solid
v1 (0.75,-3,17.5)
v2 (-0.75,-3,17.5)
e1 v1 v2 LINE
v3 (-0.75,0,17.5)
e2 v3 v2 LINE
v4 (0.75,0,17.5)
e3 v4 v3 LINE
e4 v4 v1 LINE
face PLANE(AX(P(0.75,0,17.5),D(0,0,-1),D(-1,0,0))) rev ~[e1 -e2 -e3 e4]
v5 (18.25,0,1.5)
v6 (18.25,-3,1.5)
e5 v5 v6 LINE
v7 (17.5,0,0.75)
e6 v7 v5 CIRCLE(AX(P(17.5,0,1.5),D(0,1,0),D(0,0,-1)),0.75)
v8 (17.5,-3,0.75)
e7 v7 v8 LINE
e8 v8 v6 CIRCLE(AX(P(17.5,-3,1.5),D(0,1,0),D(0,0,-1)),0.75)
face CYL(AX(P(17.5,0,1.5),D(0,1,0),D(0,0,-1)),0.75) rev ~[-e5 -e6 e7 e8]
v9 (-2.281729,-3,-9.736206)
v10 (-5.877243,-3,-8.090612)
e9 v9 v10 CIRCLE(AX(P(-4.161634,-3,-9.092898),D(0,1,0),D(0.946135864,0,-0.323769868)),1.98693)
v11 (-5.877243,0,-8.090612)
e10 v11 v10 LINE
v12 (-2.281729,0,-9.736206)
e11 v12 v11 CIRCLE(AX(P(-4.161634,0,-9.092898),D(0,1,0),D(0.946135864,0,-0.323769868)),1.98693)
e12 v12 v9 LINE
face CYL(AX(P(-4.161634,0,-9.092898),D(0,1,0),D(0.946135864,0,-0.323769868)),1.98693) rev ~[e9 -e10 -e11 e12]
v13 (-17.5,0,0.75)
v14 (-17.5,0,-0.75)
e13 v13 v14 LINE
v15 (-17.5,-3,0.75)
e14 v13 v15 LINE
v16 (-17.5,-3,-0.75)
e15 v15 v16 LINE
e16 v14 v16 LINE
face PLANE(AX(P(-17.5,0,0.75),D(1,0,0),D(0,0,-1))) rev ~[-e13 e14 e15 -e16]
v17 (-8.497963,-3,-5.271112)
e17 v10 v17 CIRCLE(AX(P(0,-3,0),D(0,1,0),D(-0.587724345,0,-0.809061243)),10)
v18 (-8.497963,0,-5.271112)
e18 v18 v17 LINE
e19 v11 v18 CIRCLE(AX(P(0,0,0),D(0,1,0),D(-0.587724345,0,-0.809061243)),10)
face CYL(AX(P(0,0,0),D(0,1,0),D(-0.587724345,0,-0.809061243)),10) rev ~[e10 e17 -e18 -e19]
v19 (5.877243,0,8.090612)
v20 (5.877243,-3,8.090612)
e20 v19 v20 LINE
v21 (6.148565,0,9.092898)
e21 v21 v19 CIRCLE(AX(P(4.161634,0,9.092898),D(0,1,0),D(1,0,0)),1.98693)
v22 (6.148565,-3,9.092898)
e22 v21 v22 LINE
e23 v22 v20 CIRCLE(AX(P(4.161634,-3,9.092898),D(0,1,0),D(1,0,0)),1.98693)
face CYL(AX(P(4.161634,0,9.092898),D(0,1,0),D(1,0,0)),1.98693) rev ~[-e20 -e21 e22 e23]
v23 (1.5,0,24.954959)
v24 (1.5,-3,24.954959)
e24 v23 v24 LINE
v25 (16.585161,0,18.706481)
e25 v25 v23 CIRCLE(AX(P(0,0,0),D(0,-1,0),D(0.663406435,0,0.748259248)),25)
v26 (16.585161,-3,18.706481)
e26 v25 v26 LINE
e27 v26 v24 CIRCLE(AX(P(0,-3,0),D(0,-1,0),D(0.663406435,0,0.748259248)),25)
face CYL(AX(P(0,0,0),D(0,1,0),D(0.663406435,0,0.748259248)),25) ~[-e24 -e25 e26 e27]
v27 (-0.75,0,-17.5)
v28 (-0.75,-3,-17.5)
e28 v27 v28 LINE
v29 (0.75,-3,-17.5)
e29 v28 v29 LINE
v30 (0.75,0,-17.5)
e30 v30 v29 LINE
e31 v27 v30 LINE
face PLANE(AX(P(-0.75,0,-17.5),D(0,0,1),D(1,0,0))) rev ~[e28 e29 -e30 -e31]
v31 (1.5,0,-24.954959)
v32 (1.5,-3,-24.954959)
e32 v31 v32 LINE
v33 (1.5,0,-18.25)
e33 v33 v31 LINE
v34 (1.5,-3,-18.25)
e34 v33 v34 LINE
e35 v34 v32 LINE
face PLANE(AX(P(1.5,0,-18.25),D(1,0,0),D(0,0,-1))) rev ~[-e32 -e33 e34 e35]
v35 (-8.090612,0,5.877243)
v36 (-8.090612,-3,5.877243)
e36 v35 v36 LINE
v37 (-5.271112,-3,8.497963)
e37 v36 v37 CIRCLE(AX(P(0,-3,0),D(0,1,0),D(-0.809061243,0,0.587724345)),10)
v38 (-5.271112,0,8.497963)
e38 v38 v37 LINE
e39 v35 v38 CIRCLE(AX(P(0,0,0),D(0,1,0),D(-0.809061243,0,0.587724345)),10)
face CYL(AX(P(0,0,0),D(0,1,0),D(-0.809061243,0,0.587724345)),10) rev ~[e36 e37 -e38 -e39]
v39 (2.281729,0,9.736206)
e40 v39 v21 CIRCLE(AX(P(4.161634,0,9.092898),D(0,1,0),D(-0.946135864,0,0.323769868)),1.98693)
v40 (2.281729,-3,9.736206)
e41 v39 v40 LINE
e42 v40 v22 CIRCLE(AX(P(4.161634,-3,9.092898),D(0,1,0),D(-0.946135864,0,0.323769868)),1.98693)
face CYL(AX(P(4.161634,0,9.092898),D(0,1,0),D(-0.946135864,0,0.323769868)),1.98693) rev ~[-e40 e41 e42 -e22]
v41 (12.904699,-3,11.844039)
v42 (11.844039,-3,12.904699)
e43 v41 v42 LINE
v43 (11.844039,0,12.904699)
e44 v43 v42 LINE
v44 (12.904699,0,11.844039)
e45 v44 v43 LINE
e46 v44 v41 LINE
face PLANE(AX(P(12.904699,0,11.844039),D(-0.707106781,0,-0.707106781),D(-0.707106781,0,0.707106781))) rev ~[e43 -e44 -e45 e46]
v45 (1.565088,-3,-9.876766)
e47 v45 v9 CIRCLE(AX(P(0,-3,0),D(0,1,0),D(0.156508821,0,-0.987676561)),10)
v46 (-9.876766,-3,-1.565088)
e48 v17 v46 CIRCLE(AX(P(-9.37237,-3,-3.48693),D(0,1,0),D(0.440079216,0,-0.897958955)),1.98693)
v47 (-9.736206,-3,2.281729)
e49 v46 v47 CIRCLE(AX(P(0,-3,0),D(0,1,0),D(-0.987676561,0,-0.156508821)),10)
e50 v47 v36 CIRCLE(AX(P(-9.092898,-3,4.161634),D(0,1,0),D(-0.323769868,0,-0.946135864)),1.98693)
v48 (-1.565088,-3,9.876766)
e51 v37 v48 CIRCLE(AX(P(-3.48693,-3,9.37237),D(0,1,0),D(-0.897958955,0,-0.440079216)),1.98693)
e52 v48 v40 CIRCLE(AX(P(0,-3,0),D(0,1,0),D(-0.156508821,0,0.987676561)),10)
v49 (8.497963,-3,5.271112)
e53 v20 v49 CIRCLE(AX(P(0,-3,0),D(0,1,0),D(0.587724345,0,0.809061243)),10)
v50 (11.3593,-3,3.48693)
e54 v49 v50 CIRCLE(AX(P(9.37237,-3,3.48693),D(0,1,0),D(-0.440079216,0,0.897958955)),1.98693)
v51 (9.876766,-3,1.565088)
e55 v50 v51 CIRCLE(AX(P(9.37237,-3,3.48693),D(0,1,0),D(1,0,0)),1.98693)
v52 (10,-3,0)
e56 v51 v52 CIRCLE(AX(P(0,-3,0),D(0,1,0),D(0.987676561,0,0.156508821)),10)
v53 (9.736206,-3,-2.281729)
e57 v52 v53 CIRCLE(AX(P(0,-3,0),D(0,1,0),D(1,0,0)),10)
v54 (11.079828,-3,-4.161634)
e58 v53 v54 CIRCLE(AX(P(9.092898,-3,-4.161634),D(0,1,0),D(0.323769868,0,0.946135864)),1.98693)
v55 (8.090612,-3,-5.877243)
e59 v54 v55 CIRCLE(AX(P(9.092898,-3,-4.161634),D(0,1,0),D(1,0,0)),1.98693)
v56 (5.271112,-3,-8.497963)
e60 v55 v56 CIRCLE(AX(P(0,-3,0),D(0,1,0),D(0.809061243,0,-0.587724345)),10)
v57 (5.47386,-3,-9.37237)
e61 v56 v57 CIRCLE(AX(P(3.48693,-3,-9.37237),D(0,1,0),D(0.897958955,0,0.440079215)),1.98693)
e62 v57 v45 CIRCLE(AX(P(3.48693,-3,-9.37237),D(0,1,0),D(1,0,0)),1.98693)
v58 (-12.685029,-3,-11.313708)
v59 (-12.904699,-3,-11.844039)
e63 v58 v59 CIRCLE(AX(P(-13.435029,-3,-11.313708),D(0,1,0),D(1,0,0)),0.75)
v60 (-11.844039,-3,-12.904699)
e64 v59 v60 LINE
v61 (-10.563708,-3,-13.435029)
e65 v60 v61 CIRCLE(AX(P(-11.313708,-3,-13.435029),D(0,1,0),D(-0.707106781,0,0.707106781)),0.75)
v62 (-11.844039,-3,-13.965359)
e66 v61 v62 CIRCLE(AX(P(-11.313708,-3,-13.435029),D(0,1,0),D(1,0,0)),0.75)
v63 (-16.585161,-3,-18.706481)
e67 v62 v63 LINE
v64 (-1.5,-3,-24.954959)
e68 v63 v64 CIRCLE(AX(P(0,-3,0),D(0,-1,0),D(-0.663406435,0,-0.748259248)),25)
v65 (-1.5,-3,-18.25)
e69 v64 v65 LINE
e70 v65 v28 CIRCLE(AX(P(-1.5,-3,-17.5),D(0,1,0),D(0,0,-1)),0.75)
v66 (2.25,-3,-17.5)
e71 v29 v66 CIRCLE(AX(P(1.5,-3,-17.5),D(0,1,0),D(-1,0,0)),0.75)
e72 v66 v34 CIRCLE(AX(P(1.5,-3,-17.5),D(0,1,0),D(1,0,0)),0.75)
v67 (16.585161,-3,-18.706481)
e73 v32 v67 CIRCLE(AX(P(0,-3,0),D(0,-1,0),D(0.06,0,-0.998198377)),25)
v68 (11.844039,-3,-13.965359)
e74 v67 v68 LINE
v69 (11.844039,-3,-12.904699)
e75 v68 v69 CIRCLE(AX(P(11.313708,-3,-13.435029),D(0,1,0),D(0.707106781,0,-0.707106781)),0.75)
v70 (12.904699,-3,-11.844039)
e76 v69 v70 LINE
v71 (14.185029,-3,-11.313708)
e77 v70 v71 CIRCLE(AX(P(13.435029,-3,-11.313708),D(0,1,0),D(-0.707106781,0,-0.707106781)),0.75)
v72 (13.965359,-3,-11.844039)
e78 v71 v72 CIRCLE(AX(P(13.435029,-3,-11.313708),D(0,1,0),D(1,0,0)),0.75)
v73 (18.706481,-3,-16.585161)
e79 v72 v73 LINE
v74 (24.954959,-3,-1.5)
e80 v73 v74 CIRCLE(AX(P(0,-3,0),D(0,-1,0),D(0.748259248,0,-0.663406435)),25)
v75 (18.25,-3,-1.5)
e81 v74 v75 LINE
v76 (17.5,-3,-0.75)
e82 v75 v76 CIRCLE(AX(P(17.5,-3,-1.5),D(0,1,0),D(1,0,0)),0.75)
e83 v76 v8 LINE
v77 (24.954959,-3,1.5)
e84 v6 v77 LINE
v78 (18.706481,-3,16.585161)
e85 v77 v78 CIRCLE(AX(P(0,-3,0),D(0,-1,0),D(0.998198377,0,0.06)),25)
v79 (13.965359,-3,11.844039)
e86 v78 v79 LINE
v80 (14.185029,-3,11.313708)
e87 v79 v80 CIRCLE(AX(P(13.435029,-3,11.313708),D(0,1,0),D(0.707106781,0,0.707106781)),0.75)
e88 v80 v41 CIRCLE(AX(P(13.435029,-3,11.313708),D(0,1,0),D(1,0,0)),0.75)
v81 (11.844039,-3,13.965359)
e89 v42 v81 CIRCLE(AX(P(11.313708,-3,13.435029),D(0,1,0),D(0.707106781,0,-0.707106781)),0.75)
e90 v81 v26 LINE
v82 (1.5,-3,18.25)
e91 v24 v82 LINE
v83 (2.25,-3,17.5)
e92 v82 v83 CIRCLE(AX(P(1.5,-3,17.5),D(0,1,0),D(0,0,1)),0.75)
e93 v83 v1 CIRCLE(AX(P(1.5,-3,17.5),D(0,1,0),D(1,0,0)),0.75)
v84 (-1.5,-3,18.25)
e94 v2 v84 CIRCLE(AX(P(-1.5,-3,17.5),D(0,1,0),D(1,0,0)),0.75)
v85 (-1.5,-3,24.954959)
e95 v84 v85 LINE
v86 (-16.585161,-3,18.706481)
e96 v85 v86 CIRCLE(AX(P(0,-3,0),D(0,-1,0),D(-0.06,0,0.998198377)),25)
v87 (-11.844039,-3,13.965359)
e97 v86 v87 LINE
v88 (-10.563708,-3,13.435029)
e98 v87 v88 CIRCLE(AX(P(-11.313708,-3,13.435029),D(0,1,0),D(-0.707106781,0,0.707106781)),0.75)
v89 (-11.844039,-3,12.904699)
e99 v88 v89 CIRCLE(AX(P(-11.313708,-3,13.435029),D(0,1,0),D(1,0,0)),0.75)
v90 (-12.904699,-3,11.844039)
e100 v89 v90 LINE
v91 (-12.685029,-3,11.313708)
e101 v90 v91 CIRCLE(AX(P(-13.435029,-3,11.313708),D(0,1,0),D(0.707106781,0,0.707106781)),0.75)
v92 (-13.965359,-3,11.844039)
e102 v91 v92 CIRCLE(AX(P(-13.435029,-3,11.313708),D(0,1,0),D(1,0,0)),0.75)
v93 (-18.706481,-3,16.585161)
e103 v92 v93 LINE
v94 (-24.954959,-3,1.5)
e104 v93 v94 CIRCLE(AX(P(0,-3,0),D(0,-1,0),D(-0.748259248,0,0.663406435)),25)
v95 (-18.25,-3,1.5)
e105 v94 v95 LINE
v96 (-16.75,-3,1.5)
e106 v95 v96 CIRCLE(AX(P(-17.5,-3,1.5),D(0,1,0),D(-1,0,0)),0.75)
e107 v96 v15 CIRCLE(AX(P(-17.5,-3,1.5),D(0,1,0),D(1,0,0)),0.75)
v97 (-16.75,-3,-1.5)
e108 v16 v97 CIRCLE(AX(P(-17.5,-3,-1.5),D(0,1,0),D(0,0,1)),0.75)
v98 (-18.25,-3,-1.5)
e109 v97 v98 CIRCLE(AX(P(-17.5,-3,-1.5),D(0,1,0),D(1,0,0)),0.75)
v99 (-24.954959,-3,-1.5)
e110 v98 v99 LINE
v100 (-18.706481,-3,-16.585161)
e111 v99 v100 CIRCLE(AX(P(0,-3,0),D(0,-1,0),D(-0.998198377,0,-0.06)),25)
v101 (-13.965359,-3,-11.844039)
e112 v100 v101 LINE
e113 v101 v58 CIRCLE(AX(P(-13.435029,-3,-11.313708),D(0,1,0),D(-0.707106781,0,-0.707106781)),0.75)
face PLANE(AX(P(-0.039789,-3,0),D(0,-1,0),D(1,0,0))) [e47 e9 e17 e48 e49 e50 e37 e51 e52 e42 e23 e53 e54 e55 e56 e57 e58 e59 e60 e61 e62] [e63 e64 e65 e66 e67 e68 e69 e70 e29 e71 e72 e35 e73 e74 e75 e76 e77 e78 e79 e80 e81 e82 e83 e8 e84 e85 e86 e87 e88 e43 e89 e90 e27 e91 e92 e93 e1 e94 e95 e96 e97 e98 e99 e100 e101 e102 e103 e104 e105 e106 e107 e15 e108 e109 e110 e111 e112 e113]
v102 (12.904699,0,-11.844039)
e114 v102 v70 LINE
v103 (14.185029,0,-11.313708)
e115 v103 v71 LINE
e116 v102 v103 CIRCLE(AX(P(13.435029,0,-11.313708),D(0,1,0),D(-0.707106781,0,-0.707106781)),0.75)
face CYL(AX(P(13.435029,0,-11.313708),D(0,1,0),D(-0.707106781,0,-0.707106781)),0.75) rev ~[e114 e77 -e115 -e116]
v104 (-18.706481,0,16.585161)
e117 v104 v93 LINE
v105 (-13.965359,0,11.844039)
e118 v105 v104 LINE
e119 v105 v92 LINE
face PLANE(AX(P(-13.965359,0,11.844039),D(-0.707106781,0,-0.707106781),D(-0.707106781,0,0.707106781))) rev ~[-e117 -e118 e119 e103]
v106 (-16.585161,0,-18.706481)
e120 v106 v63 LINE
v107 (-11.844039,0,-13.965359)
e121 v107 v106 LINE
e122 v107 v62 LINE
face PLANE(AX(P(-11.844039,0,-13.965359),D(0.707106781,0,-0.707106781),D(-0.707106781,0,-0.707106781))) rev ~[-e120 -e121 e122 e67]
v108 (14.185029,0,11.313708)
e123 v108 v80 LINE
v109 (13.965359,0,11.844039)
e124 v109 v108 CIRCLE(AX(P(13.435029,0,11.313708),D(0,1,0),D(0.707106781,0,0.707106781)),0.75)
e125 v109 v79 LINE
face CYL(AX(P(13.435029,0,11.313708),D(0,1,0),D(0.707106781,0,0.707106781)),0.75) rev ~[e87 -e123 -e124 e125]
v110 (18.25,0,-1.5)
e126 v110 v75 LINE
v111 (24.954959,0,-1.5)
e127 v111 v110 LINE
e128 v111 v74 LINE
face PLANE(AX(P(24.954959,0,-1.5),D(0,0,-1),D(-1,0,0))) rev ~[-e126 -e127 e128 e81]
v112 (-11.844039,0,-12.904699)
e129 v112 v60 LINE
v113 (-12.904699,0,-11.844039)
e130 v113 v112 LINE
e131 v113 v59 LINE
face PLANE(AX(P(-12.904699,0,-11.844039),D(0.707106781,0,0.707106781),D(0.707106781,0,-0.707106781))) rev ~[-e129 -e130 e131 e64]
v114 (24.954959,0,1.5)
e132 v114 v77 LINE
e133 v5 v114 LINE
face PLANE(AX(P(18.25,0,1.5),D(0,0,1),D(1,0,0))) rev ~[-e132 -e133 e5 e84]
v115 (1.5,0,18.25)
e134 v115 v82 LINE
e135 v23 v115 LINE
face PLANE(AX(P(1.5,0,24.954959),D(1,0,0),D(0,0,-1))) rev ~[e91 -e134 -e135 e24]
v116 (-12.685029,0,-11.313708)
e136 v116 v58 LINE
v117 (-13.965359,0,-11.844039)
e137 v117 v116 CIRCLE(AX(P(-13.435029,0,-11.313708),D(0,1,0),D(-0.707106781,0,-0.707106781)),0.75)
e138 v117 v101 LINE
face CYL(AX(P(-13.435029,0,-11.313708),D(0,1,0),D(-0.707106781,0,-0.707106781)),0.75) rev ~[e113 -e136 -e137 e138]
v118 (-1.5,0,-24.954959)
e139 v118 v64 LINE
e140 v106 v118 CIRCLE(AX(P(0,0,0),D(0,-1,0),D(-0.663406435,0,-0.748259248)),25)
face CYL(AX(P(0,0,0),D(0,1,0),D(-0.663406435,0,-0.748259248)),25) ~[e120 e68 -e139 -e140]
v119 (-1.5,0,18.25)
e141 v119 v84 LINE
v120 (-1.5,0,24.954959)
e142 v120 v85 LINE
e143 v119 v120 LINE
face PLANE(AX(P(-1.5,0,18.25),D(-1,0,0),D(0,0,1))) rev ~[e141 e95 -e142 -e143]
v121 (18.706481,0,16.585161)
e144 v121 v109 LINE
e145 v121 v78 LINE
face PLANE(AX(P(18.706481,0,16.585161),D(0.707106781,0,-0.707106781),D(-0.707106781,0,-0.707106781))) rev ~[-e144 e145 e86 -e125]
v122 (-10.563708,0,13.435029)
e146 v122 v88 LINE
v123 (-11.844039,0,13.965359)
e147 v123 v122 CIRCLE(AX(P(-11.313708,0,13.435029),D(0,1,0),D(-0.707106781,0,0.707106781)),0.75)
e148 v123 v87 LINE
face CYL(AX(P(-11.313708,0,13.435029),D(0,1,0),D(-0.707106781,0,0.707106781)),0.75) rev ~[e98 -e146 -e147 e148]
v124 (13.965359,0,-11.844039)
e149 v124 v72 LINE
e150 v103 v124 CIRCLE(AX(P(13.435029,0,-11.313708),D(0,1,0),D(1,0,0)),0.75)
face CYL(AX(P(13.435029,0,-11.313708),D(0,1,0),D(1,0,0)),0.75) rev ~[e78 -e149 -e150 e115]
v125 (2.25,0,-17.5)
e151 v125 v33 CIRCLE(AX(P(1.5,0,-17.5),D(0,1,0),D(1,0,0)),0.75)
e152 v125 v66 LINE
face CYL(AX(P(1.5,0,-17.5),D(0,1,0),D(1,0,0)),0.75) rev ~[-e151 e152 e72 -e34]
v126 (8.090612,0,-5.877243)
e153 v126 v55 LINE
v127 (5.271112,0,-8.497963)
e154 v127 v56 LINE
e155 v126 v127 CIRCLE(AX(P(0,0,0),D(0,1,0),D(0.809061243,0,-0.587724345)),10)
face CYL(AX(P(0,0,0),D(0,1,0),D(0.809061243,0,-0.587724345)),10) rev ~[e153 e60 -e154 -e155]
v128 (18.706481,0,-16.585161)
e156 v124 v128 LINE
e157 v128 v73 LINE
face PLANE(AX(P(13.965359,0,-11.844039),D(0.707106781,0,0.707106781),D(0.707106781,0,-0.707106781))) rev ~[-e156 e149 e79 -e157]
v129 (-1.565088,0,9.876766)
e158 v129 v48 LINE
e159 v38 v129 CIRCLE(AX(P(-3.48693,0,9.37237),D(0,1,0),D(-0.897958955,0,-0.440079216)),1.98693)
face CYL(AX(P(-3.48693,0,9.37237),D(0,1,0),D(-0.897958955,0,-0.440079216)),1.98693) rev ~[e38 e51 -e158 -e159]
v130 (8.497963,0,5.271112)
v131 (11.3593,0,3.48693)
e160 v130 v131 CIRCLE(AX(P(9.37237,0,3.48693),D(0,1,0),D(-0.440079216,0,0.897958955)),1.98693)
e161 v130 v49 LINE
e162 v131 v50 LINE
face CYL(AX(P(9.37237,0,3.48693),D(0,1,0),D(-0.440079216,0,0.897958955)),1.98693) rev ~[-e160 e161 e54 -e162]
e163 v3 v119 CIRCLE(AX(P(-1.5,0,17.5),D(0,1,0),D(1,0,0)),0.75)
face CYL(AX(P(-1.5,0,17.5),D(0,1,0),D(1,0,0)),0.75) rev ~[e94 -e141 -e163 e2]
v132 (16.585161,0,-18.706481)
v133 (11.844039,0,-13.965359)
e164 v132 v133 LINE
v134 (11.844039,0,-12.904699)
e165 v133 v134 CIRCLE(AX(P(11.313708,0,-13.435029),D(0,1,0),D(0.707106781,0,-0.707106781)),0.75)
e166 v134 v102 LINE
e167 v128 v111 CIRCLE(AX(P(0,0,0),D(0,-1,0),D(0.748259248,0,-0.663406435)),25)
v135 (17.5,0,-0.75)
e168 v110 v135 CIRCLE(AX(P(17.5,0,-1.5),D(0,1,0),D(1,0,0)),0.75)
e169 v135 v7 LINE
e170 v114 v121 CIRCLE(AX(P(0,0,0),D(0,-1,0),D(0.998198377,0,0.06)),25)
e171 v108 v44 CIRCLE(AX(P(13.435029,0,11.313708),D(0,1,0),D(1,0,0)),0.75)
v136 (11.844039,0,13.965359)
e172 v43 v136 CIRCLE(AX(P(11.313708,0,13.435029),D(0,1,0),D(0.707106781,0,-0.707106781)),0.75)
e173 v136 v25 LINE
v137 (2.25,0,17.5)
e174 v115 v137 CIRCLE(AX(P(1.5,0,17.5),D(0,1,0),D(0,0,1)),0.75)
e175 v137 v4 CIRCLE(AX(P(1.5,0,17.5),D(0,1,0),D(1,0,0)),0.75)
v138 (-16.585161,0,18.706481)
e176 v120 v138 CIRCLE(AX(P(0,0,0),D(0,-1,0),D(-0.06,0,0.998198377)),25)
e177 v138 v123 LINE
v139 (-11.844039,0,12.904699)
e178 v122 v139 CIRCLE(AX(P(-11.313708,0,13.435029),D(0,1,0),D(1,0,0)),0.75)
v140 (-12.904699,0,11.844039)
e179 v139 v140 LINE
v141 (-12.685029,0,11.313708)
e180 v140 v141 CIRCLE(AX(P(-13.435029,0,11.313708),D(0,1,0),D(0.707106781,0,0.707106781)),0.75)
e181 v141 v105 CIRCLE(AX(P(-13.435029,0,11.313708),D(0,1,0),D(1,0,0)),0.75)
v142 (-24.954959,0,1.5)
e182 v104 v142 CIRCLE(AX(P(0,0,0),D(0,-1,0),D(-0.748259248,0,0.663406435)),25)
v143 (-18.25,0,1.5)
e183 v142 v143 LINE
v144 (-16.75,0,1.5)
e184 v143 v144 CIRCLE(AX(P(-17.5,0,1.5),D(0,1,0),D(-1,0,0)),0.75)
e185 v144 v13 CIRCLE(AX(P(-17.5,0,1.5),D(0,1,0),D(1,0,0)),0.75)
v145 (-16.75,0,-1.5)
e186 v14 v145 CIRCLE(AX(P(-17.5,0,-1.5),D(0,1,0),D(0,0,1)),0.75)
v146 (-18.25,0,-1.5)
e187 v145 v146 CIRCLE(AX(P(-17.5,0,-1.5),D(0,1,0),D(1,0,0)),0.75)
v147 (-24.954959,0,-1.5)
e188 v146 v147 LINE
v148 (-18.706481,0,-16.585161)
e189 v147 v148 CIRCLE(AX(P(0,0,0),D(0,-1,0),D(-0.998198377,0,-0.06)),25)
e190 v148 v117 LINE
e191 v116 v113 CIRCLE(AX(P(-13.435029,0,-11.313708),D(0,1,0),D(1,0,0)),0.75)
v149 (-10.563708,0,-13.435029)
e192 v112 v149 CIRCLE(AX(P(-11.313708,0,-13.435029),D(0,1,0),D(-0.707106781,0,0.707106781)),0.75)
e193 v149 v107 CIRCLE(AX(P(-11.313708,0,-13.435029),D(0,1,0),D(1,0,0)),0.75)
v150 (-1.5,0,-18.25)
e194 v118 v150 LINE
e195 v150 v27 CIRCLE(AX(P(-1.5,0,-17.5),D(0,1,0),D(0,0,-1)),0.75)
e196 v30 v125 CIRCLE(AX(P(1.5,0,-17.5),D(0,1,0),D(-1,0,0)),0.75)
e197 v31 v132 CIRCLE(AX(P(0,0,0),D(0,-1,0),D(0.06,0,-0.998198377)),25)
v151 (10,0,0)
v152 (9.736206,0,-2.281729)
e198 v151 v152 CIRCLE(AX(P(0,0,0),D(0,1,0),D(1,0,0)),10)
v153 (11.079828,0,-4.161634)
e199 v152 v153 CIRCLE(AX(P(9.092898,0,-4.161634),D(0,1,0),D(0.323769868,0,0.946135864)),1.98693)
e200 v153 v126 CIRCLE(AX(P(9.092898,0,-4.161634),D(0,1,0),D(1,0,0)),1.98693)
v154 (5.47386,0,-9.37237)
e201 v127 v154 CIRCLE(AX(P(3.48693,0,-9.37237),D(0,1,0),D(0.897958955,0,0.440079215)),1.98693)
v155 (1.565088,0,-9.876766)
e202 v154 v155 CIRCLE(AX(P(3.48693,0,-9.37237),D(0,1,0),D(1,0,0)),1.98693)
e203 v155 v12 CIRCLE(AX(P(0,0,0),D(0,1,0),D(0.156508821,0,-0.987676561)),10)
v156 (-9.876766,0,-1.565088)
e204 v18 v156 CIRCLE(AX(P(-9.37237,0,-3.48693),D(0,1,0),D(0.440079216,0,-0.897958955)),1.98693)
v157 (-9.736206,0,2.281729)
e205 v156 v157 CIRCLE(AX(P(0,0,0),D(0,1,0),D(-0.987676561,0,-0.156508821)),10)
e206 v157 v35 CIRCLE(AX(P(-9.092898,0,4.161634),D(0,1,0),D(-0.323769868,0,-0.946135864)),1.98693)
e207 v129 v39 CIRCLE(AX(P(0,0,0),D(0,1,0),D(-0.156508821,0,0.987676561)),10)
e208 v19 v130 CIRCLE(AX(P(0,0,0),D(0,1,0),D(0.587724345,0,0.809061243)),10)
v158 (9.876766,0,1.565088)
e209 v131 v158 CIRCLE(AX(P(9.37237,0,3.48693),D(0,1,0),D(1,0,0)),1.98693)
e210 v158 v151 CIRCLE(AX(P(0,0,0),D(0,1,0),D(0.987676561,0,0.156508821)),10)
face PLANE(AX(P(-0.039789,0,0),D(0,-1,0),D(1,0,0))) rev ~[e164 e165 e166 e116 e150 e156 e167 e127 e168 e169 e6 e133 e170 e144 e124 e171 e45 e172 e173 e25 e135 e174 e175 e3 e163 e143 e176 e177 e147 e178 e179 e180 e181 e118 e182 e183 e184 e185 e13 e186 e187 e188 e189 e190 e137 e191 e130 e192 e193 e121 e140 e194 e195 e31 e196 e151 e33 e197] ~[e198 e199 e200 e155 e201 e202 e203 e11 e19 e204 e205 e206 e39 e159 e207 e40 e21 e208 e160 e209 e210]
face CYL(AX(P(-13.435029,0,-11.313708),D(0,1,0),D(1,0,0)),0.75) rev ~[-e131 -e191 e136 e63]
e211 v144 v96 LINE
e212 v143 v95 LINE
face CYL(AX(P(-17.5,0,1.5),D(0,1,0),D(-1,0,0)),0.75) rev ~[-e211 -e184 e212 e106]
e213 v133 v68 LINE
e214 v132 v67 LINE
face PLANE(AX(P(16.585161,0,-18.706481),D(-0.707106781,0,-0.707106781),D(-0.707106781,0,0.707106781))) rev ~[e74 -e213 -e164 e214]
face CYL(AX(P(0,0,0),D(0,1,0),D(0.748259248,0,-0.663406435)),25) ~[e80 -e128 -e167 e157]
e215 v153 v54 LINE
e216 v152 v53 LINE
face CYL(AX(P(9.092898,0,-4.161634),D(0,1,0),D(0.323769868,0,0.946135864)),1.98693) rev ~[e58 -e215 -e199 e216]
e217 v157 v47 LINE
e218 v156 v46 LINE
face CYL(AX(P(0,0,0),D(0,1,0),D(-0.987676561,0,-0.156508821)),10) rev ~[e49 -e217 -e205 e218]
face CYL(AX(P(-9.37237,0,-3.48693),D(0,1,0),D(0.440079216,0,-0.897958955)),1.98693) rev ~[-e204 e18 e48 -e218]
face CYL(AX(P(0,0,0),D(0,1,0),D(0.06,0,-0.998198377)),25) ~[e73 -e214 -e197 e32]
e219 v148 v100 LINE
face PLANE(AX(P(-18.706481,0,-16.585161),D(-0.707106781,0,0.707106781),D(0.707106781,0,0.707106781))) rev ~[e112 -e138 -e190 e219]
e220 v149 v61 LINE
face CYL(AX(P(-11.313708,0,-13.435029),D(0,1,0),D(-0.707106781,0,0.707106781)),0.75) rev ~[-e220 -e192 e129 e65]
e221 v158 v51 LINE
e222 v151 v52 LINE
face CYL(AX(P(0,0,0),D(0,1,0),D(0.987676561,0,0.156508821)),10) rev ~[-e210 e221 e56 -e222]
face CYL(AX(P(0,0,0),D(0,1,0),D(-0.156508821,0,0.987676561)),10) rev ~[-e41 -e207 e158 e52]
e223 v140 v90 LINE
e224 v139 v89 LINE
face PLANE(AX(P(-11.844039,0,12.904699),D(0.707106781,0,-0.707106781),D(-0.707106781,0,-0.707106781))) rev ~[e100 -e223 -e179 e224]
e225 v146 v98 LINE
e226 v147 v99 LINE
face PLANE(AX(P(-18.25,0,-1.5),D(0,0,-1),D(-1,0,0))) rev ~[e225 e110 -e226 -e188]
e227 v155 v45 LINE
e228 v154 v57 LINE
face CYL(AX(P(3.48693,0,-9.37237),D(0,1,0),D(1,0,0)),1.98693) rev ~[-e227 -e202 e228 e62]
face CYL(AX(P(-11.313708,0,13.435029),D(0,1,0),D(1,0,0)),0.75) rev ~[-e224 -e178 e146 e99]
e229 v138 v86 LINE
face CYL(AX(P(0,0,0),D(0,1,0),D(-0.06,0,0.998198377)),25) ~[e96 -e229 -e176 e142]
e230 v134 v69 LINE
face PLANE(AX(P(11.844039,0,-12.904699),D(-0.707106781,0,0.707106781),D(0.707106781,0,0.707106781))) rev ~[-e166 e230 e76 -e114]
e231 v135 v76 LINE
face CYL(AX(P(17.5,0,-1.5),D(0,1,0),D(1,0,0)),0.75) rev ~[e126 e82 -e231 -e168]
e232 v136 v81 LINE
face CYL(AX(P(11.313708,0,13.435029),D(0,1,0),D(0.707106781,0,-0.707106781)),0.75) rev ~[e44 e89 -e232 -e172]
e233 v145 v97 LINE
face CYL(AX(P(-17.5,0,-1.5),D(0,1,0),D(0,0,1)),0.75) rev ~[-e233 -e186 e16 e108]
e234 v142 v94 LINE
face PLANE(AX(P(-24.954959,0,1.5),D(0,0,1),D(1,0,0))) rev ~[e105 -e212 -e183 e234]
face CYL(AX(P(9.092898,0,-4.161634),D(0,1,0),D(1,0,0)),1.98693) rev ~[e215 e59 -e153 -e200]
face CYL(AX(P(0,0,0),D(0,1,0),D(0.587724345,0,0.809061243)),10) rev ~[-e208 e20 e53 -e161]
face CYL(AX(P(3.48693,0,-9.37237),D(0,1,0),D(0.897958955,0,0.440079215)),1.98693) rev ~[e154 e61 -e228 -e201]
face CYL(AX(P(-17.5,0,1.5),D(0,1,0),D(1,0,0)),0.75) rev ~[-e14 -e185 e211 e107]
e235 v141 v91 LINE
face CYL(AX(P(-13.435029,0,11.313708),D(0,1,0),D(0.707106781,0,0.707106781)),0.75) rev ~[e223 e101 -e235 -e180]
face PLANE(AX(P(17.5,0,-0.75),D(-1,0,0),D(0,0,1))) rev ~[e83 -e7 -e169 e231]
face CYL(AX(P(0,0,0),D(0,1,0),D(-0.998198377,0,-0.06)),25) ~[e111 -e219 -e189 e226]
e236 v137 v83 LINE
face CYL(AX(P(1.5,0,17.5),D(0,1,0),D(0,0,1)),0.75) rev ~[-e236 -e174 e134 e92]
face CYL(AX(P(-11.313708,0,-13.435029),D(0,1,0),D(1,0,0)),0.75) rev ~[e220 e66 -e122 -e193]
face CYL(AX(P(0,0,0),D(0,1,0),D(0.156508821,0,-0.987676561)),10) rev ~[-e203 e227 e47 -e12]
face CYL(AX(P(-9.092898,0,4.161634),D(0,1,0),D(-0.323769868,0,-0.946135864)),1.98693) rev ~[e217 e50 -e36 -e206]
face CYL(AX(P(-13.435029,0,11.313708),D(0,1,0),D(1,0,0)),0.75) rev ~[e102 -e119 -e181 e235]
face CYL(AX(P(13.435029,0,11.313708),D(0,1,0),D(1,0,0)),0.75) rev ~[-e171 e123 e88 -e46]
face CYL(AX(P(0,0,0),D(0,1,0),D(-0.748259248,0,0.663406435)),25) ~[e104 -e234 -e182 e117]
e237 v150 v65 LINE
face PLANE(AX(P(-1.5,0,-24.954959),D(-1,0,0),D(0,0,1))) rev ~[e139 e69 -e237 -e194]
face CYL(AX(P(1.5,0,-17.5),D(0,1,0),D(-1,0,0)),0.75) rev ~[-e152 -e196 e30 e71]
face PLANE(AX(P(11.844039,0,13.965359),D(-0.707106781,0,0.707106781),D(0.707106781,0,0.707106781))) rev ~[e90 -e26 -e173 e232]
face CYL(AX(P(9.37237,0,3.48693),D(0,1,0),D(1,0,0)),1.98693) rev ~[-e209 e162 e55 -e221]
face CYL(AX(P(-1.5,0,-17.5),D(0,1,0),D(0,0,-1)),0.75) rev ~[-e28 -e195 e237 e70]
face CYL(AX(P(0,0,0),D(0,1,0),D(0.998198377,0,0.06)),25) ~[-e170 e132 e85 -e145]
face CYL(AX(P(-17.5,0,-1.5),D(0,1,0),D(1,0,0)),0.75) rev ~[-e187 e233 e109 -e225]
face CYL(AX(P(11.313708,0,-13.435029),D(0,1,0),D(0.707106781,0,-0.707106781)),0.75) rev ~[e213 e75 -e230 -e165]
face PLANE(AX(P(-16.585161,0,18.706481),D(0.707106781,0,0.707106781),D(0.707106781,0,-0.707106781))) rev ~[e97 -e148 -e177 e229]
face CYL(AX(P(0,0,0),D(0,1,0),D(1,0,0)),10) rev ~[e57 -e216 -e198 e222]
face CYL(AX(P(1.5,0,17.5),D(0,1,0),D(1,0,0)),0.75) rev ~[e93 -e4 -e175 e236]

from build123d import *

# Parameters (mm, degrees)
F2_DEPTH = 3


with BuildPart() as f2:
    # F1 (on Front) → F2 (new body)
    with BuildSketch(Plane.XZ):
        with BuildLine():
            Line((18.25, 1.5), (24.9549594269, 1.5))
            ThreePointArc((24.9549594269, 1.5), (23.0969883128, 9.5670858091), (18.7064812068, 16.5851608632))
            Line((18.7064812068, 16.5851608632), (13.9653589284, 11.8440385849))
            ThreePointArc((13.9653589284, 11.8440385849), (14.1279384919, 11.6007210733), (14.1850288425, 11.313708499))
            ThreePointArc((14.1850288425, 11.313708499), (13.1480162683, 10.6207988496), (12.9046987567, 11.8440385849))
            Line((12.9046987567, 11.8440385849), (11.8440385849, 12.9046987567))
            ThreePointArc((11.8440385849, 12.9046987567), (10.563708499, 13.4350288425), (11.8440385849, 13.9653589284))
            Line((11.8440385849, 13.9653589284), (16.5851608632, 18.7064812068))
            ThreePointArc((16.5851608632, 18.7064812068), (9.5670858091, 23.0969883128), (1.5, 24.9549594269))
            Line((1.5, 24.9549594269), (1.5, 18.25))
            ThreePointArc((1.5, 18.25), (2.0303300859, 18.0303300859), (2.25, 17.5))
            ThreePointArc((2.25, 17.5), (1.5, 16.75), (0.75, 17.5))
            Line((0.75, 17.5), (-0.75, 17.5))
            ThreePointArc((-0.75, 17.5), (-2.0303300859, 16.9696699141), (-1.5, 18.25))
            Line((-1.5, 18.25), (-1.5, 24.9549594269))
            ThreePointArc((-1.5, 24.9549594269), (-9.5670858091, 23.0969883128), (-16.5851608632, 18.7064812068))
            Line((-16.5851608632, 18.7064812068), (-11.8440385849, 13.9653589284))
            ThreePointArc((-11.8440385849, 13.9653589284), (-11.0266959247, 14.1279384919), (-10.563708499, 13.4350288425))
            ThreePointArc((-10.563708499, 13.4350288425), (-11.0266959247, 12.7421191932), (-11.8440385849, 12.9046987567))
            Line((-11.8440385849, 12.9046987567), (-12.9046987567, 11.8440385849))
            ThreePointArc((-12.9046987567, 11.8440385849), (-12.7421191932, 11.6007210733), (-12.6850288425, 11.313708499))
            ThreePointArc((-12.6850288425, 11.313708499), (-13.7220414168, 10.6207988496), (-13.9653589284, 11.8440385849))
            Line((-13.9653589284, 11.8440385849), (-18.7064812068, 16.5851608632))
            ThreePointArc((-18.7064812068, 16.5851608632), (-23.0969883128, 9.5670858091), (-24.9549594269, 1.5))
            Line((-24.9549594269, 1.5), (-18.25, 1.5))
            ThreePointArc((-18.25, 1.5), (-17.5, 2.25), (-16.75, 1.5))
            ThreePointArc((-16.75, 1.5), (-16.9696699141, 0.9696699141), (-17.5, 0.75))
            Line((-17.5, 0.75), (-17.5, -0.75))
            ThreePointArc((-17.5, -0.75), (-16.9696699141, -0.9696699141), (-16.75, -1.5))
            ThreePointArc((-16.75, -1.5), (-17.5, -2.25), (-18.25, -1.5))
            Line((-18.25, -1.5), (-24.9549594269, -1.5))
            ThreePointArc((-24.9549594269, -1.5), (-23.0969883128, -9.5670858091), (-18.7064812068, -16.5851608632))
            Line((-18.7064812068, -16.5851608632), (-13.9653589284, -11.8440385849))
            ThreePointArc((-13.9653589284, -11.8440385849), (-13.7220414168, -10.6207988496), (-12.6850288425, -11.313708499))
            ThreePointArc((-12.6850288425, -11.313708499), (-12.7421191932, -11.6007210733), (-12.9046987567, -11.8440385849))
            Line((-12.9046987567, -11.8440385849), (-11.8440385849, -12.9046987567))
            ThreePointArc((-11.8440385849, -12.9046987567), (-11.0266959247, -12.7421191932), (-10.563708499, -13.4350288425))
            ThreePointArc((-10.563708499, -13.4350288425), (-11.0266959247, -14.1279384919), (-11.8440385849, -13.9653589284))
            Line((-11.8440385849, -13.9653589284), (-16.5851608632, -18.7064812068))
            ThreePointArc((-16.5851608632, -18.7064812068), (-9.5670858091, -23.0969883128), (-1.5, -24.9549594269))
            Line((-1.5, -24.9549594269), (-1.5, -18.25))
            ThreePointArc((-1.5, -18.25), (-2.0303300859, -16.9696699141), (-0.75, -17.5))
            Line((-0.75, -17.5), (0.75, -17.5))
            ThreePointArc((0.75, -17.5), (1.5, -16.75), (2.25, -17.5))
            ThreePointArc((2.25, -17.5), (2.0303300859, -18.0303300859), (1.5, -18.25))
            Line((1.5, -18.25), (1.5, -24.9549594269))
            ThreePointArc((1.5, -24.9549594269), (9.5670858091, -23.0969883128), (16.5851608632, -18.7064812068))
            Line((16.5851608632, -18.7064812068), (11.8440385849, -13.9653589284))
            ThreePointArc((11.8440385849, -13.9653589284), (10.563708499, -13.4350288425), (11.8440385849, -12.9046987567))
            Line((11.8440385849, -12.9046987567), (12.9046987567, -11.8440385849))
            ThreePointArc((12.9046987567, -11.8440385849), (13.1480162683, -10.6207988496), (14.1850288425, -11.313708499))
            ThreePointArc((14.1850288425, -11.313708499), (14.1279384919, -11.6007210733), (13.9653589284, -11.8440385849))
            Line((13.9653589284, -11.8440385849), (18.7064812068, -16.5851608632))
            ThreePointArc((18.7064812068, -16.5851608632), (23.0969883128, -9.5670858091), (24.9549594269, -1.5))
            Line((24.9549594269, -1.5), (18.25, -1.5))
            ThreePointArc((18.25, -1.5), (16.9696699141, -2.0303300859), (17.5, -0.75))
            Line((17.5, -0.75), (17.5, 0.75))
            ThreePointArc((17.5, 0.75), (16.9696699141, 2.0303300859), (18.25, 1.5))
        make_face()
        with BuildLine():
            ThreePointArc((9.8767656083, 1.5650882145), (9.9691437968, 0.7849662149), (10, 0))
            ThreePointArc((10, 0), (9.9338326925, -1.1484633378), (9.7362063924, -2.2817285302))
            ThreePointArc((9.7362063924, -2.2817285302), (10.7093913456, -3.0062809605), (11.0798284208, -4.1616343917))
            ThreePointArc((11.0798284208, -4.1616343917), (10.081943125, -5.884910827), (8.0906124274, -5.8772434482))
            ThreePointArc((8.0906124274, -5.8772434482), (6.8081540818, -7.3245503615), (5.2711118466, -8.4979632796))
            ThreePointArc((5.2711118466, -8.4979632796), (5.4225096089, -8.9235676616), (5.4738602751, -9.3723699359))
            ThreePointArc((5.4738602751, -9.3723699359), (3.7412190824, -11.3429608382), (1.5650882145, -9.8767656083))
            ThreePointArc((1.5650882145, -9.8767656083), (-0.3651473111, -9.9933311484), (-2.2817285302, -9.7362063924))
            ThreePointArc((-2.2817285302, -9.7362063924), (-4.9885220711, -10.8995936469), (-5.8772434482, -8.0906124274))
            ThreePointArc((-5.8772434482, -8.0906124274), (-7.3245503615, -6.8081540818), (-8.4979632796, -5.2711118466))
            ThreePointArc((-8.4979632796, -5.2711118466), (-11.2345943645, -4.1797587953), (-9.8767656083, -1.5650882145))
            ThreePointArc((-9.8767656083, -1.5650882145), (-9.9933311484, 0.3651473111), (-9.7362063924, 2.2817285302))
            ThreePointArc((-9.7362063924, 2.2817285302), (-10.8995936469, 4.9885220711), (-8.0906124274, 5.8772434482))
            ThreePointArc((-8.0906124274, 5.8772434482), (-6.8081540818, 7.3245503615), (-5.2711118466, 8.4979632796))
            ThreePointArc((-5.2711118466, 8.4979632796), (-4.1797587953, 11.2345943645), (-1.5650882145, 9.8767656083))
            ThreePointArc((-1.5650882145, 9.8767656083), (0.3651473111, 9.9933311484), (2.2817285302, 9.7362063924))
            ThreePointArc((2.2817285302, 9.7362063924), (4.487709352, 11.0528897352), (6.1485645292, 9.0928982833))
            ThreePointArc((6.1485645292, 9.0928982833), (6.0795351595, 8.5737181445), (5.8772434482, 8.0906124274))
            ThreePointArc((5.8772434482, 8.0906124274), (7.3245503615, 6.8081540818), (8.4979632796, 5.2711118466))
            ThreePointArc((8.4979632796, 5.2711118466), (10.423680174, 5.1729426389), (11.3593000735, 3.4869301375))
            ThreePointArc((11.3593000735, 3.4869301375), (10.9455975631, 2.2733213849), (9.8767656083, 1.5650882145))
        make_face(mode=Mode.SUBTRACT)
    extrude(amount=F2_DEPTH)


solid = f2.part
